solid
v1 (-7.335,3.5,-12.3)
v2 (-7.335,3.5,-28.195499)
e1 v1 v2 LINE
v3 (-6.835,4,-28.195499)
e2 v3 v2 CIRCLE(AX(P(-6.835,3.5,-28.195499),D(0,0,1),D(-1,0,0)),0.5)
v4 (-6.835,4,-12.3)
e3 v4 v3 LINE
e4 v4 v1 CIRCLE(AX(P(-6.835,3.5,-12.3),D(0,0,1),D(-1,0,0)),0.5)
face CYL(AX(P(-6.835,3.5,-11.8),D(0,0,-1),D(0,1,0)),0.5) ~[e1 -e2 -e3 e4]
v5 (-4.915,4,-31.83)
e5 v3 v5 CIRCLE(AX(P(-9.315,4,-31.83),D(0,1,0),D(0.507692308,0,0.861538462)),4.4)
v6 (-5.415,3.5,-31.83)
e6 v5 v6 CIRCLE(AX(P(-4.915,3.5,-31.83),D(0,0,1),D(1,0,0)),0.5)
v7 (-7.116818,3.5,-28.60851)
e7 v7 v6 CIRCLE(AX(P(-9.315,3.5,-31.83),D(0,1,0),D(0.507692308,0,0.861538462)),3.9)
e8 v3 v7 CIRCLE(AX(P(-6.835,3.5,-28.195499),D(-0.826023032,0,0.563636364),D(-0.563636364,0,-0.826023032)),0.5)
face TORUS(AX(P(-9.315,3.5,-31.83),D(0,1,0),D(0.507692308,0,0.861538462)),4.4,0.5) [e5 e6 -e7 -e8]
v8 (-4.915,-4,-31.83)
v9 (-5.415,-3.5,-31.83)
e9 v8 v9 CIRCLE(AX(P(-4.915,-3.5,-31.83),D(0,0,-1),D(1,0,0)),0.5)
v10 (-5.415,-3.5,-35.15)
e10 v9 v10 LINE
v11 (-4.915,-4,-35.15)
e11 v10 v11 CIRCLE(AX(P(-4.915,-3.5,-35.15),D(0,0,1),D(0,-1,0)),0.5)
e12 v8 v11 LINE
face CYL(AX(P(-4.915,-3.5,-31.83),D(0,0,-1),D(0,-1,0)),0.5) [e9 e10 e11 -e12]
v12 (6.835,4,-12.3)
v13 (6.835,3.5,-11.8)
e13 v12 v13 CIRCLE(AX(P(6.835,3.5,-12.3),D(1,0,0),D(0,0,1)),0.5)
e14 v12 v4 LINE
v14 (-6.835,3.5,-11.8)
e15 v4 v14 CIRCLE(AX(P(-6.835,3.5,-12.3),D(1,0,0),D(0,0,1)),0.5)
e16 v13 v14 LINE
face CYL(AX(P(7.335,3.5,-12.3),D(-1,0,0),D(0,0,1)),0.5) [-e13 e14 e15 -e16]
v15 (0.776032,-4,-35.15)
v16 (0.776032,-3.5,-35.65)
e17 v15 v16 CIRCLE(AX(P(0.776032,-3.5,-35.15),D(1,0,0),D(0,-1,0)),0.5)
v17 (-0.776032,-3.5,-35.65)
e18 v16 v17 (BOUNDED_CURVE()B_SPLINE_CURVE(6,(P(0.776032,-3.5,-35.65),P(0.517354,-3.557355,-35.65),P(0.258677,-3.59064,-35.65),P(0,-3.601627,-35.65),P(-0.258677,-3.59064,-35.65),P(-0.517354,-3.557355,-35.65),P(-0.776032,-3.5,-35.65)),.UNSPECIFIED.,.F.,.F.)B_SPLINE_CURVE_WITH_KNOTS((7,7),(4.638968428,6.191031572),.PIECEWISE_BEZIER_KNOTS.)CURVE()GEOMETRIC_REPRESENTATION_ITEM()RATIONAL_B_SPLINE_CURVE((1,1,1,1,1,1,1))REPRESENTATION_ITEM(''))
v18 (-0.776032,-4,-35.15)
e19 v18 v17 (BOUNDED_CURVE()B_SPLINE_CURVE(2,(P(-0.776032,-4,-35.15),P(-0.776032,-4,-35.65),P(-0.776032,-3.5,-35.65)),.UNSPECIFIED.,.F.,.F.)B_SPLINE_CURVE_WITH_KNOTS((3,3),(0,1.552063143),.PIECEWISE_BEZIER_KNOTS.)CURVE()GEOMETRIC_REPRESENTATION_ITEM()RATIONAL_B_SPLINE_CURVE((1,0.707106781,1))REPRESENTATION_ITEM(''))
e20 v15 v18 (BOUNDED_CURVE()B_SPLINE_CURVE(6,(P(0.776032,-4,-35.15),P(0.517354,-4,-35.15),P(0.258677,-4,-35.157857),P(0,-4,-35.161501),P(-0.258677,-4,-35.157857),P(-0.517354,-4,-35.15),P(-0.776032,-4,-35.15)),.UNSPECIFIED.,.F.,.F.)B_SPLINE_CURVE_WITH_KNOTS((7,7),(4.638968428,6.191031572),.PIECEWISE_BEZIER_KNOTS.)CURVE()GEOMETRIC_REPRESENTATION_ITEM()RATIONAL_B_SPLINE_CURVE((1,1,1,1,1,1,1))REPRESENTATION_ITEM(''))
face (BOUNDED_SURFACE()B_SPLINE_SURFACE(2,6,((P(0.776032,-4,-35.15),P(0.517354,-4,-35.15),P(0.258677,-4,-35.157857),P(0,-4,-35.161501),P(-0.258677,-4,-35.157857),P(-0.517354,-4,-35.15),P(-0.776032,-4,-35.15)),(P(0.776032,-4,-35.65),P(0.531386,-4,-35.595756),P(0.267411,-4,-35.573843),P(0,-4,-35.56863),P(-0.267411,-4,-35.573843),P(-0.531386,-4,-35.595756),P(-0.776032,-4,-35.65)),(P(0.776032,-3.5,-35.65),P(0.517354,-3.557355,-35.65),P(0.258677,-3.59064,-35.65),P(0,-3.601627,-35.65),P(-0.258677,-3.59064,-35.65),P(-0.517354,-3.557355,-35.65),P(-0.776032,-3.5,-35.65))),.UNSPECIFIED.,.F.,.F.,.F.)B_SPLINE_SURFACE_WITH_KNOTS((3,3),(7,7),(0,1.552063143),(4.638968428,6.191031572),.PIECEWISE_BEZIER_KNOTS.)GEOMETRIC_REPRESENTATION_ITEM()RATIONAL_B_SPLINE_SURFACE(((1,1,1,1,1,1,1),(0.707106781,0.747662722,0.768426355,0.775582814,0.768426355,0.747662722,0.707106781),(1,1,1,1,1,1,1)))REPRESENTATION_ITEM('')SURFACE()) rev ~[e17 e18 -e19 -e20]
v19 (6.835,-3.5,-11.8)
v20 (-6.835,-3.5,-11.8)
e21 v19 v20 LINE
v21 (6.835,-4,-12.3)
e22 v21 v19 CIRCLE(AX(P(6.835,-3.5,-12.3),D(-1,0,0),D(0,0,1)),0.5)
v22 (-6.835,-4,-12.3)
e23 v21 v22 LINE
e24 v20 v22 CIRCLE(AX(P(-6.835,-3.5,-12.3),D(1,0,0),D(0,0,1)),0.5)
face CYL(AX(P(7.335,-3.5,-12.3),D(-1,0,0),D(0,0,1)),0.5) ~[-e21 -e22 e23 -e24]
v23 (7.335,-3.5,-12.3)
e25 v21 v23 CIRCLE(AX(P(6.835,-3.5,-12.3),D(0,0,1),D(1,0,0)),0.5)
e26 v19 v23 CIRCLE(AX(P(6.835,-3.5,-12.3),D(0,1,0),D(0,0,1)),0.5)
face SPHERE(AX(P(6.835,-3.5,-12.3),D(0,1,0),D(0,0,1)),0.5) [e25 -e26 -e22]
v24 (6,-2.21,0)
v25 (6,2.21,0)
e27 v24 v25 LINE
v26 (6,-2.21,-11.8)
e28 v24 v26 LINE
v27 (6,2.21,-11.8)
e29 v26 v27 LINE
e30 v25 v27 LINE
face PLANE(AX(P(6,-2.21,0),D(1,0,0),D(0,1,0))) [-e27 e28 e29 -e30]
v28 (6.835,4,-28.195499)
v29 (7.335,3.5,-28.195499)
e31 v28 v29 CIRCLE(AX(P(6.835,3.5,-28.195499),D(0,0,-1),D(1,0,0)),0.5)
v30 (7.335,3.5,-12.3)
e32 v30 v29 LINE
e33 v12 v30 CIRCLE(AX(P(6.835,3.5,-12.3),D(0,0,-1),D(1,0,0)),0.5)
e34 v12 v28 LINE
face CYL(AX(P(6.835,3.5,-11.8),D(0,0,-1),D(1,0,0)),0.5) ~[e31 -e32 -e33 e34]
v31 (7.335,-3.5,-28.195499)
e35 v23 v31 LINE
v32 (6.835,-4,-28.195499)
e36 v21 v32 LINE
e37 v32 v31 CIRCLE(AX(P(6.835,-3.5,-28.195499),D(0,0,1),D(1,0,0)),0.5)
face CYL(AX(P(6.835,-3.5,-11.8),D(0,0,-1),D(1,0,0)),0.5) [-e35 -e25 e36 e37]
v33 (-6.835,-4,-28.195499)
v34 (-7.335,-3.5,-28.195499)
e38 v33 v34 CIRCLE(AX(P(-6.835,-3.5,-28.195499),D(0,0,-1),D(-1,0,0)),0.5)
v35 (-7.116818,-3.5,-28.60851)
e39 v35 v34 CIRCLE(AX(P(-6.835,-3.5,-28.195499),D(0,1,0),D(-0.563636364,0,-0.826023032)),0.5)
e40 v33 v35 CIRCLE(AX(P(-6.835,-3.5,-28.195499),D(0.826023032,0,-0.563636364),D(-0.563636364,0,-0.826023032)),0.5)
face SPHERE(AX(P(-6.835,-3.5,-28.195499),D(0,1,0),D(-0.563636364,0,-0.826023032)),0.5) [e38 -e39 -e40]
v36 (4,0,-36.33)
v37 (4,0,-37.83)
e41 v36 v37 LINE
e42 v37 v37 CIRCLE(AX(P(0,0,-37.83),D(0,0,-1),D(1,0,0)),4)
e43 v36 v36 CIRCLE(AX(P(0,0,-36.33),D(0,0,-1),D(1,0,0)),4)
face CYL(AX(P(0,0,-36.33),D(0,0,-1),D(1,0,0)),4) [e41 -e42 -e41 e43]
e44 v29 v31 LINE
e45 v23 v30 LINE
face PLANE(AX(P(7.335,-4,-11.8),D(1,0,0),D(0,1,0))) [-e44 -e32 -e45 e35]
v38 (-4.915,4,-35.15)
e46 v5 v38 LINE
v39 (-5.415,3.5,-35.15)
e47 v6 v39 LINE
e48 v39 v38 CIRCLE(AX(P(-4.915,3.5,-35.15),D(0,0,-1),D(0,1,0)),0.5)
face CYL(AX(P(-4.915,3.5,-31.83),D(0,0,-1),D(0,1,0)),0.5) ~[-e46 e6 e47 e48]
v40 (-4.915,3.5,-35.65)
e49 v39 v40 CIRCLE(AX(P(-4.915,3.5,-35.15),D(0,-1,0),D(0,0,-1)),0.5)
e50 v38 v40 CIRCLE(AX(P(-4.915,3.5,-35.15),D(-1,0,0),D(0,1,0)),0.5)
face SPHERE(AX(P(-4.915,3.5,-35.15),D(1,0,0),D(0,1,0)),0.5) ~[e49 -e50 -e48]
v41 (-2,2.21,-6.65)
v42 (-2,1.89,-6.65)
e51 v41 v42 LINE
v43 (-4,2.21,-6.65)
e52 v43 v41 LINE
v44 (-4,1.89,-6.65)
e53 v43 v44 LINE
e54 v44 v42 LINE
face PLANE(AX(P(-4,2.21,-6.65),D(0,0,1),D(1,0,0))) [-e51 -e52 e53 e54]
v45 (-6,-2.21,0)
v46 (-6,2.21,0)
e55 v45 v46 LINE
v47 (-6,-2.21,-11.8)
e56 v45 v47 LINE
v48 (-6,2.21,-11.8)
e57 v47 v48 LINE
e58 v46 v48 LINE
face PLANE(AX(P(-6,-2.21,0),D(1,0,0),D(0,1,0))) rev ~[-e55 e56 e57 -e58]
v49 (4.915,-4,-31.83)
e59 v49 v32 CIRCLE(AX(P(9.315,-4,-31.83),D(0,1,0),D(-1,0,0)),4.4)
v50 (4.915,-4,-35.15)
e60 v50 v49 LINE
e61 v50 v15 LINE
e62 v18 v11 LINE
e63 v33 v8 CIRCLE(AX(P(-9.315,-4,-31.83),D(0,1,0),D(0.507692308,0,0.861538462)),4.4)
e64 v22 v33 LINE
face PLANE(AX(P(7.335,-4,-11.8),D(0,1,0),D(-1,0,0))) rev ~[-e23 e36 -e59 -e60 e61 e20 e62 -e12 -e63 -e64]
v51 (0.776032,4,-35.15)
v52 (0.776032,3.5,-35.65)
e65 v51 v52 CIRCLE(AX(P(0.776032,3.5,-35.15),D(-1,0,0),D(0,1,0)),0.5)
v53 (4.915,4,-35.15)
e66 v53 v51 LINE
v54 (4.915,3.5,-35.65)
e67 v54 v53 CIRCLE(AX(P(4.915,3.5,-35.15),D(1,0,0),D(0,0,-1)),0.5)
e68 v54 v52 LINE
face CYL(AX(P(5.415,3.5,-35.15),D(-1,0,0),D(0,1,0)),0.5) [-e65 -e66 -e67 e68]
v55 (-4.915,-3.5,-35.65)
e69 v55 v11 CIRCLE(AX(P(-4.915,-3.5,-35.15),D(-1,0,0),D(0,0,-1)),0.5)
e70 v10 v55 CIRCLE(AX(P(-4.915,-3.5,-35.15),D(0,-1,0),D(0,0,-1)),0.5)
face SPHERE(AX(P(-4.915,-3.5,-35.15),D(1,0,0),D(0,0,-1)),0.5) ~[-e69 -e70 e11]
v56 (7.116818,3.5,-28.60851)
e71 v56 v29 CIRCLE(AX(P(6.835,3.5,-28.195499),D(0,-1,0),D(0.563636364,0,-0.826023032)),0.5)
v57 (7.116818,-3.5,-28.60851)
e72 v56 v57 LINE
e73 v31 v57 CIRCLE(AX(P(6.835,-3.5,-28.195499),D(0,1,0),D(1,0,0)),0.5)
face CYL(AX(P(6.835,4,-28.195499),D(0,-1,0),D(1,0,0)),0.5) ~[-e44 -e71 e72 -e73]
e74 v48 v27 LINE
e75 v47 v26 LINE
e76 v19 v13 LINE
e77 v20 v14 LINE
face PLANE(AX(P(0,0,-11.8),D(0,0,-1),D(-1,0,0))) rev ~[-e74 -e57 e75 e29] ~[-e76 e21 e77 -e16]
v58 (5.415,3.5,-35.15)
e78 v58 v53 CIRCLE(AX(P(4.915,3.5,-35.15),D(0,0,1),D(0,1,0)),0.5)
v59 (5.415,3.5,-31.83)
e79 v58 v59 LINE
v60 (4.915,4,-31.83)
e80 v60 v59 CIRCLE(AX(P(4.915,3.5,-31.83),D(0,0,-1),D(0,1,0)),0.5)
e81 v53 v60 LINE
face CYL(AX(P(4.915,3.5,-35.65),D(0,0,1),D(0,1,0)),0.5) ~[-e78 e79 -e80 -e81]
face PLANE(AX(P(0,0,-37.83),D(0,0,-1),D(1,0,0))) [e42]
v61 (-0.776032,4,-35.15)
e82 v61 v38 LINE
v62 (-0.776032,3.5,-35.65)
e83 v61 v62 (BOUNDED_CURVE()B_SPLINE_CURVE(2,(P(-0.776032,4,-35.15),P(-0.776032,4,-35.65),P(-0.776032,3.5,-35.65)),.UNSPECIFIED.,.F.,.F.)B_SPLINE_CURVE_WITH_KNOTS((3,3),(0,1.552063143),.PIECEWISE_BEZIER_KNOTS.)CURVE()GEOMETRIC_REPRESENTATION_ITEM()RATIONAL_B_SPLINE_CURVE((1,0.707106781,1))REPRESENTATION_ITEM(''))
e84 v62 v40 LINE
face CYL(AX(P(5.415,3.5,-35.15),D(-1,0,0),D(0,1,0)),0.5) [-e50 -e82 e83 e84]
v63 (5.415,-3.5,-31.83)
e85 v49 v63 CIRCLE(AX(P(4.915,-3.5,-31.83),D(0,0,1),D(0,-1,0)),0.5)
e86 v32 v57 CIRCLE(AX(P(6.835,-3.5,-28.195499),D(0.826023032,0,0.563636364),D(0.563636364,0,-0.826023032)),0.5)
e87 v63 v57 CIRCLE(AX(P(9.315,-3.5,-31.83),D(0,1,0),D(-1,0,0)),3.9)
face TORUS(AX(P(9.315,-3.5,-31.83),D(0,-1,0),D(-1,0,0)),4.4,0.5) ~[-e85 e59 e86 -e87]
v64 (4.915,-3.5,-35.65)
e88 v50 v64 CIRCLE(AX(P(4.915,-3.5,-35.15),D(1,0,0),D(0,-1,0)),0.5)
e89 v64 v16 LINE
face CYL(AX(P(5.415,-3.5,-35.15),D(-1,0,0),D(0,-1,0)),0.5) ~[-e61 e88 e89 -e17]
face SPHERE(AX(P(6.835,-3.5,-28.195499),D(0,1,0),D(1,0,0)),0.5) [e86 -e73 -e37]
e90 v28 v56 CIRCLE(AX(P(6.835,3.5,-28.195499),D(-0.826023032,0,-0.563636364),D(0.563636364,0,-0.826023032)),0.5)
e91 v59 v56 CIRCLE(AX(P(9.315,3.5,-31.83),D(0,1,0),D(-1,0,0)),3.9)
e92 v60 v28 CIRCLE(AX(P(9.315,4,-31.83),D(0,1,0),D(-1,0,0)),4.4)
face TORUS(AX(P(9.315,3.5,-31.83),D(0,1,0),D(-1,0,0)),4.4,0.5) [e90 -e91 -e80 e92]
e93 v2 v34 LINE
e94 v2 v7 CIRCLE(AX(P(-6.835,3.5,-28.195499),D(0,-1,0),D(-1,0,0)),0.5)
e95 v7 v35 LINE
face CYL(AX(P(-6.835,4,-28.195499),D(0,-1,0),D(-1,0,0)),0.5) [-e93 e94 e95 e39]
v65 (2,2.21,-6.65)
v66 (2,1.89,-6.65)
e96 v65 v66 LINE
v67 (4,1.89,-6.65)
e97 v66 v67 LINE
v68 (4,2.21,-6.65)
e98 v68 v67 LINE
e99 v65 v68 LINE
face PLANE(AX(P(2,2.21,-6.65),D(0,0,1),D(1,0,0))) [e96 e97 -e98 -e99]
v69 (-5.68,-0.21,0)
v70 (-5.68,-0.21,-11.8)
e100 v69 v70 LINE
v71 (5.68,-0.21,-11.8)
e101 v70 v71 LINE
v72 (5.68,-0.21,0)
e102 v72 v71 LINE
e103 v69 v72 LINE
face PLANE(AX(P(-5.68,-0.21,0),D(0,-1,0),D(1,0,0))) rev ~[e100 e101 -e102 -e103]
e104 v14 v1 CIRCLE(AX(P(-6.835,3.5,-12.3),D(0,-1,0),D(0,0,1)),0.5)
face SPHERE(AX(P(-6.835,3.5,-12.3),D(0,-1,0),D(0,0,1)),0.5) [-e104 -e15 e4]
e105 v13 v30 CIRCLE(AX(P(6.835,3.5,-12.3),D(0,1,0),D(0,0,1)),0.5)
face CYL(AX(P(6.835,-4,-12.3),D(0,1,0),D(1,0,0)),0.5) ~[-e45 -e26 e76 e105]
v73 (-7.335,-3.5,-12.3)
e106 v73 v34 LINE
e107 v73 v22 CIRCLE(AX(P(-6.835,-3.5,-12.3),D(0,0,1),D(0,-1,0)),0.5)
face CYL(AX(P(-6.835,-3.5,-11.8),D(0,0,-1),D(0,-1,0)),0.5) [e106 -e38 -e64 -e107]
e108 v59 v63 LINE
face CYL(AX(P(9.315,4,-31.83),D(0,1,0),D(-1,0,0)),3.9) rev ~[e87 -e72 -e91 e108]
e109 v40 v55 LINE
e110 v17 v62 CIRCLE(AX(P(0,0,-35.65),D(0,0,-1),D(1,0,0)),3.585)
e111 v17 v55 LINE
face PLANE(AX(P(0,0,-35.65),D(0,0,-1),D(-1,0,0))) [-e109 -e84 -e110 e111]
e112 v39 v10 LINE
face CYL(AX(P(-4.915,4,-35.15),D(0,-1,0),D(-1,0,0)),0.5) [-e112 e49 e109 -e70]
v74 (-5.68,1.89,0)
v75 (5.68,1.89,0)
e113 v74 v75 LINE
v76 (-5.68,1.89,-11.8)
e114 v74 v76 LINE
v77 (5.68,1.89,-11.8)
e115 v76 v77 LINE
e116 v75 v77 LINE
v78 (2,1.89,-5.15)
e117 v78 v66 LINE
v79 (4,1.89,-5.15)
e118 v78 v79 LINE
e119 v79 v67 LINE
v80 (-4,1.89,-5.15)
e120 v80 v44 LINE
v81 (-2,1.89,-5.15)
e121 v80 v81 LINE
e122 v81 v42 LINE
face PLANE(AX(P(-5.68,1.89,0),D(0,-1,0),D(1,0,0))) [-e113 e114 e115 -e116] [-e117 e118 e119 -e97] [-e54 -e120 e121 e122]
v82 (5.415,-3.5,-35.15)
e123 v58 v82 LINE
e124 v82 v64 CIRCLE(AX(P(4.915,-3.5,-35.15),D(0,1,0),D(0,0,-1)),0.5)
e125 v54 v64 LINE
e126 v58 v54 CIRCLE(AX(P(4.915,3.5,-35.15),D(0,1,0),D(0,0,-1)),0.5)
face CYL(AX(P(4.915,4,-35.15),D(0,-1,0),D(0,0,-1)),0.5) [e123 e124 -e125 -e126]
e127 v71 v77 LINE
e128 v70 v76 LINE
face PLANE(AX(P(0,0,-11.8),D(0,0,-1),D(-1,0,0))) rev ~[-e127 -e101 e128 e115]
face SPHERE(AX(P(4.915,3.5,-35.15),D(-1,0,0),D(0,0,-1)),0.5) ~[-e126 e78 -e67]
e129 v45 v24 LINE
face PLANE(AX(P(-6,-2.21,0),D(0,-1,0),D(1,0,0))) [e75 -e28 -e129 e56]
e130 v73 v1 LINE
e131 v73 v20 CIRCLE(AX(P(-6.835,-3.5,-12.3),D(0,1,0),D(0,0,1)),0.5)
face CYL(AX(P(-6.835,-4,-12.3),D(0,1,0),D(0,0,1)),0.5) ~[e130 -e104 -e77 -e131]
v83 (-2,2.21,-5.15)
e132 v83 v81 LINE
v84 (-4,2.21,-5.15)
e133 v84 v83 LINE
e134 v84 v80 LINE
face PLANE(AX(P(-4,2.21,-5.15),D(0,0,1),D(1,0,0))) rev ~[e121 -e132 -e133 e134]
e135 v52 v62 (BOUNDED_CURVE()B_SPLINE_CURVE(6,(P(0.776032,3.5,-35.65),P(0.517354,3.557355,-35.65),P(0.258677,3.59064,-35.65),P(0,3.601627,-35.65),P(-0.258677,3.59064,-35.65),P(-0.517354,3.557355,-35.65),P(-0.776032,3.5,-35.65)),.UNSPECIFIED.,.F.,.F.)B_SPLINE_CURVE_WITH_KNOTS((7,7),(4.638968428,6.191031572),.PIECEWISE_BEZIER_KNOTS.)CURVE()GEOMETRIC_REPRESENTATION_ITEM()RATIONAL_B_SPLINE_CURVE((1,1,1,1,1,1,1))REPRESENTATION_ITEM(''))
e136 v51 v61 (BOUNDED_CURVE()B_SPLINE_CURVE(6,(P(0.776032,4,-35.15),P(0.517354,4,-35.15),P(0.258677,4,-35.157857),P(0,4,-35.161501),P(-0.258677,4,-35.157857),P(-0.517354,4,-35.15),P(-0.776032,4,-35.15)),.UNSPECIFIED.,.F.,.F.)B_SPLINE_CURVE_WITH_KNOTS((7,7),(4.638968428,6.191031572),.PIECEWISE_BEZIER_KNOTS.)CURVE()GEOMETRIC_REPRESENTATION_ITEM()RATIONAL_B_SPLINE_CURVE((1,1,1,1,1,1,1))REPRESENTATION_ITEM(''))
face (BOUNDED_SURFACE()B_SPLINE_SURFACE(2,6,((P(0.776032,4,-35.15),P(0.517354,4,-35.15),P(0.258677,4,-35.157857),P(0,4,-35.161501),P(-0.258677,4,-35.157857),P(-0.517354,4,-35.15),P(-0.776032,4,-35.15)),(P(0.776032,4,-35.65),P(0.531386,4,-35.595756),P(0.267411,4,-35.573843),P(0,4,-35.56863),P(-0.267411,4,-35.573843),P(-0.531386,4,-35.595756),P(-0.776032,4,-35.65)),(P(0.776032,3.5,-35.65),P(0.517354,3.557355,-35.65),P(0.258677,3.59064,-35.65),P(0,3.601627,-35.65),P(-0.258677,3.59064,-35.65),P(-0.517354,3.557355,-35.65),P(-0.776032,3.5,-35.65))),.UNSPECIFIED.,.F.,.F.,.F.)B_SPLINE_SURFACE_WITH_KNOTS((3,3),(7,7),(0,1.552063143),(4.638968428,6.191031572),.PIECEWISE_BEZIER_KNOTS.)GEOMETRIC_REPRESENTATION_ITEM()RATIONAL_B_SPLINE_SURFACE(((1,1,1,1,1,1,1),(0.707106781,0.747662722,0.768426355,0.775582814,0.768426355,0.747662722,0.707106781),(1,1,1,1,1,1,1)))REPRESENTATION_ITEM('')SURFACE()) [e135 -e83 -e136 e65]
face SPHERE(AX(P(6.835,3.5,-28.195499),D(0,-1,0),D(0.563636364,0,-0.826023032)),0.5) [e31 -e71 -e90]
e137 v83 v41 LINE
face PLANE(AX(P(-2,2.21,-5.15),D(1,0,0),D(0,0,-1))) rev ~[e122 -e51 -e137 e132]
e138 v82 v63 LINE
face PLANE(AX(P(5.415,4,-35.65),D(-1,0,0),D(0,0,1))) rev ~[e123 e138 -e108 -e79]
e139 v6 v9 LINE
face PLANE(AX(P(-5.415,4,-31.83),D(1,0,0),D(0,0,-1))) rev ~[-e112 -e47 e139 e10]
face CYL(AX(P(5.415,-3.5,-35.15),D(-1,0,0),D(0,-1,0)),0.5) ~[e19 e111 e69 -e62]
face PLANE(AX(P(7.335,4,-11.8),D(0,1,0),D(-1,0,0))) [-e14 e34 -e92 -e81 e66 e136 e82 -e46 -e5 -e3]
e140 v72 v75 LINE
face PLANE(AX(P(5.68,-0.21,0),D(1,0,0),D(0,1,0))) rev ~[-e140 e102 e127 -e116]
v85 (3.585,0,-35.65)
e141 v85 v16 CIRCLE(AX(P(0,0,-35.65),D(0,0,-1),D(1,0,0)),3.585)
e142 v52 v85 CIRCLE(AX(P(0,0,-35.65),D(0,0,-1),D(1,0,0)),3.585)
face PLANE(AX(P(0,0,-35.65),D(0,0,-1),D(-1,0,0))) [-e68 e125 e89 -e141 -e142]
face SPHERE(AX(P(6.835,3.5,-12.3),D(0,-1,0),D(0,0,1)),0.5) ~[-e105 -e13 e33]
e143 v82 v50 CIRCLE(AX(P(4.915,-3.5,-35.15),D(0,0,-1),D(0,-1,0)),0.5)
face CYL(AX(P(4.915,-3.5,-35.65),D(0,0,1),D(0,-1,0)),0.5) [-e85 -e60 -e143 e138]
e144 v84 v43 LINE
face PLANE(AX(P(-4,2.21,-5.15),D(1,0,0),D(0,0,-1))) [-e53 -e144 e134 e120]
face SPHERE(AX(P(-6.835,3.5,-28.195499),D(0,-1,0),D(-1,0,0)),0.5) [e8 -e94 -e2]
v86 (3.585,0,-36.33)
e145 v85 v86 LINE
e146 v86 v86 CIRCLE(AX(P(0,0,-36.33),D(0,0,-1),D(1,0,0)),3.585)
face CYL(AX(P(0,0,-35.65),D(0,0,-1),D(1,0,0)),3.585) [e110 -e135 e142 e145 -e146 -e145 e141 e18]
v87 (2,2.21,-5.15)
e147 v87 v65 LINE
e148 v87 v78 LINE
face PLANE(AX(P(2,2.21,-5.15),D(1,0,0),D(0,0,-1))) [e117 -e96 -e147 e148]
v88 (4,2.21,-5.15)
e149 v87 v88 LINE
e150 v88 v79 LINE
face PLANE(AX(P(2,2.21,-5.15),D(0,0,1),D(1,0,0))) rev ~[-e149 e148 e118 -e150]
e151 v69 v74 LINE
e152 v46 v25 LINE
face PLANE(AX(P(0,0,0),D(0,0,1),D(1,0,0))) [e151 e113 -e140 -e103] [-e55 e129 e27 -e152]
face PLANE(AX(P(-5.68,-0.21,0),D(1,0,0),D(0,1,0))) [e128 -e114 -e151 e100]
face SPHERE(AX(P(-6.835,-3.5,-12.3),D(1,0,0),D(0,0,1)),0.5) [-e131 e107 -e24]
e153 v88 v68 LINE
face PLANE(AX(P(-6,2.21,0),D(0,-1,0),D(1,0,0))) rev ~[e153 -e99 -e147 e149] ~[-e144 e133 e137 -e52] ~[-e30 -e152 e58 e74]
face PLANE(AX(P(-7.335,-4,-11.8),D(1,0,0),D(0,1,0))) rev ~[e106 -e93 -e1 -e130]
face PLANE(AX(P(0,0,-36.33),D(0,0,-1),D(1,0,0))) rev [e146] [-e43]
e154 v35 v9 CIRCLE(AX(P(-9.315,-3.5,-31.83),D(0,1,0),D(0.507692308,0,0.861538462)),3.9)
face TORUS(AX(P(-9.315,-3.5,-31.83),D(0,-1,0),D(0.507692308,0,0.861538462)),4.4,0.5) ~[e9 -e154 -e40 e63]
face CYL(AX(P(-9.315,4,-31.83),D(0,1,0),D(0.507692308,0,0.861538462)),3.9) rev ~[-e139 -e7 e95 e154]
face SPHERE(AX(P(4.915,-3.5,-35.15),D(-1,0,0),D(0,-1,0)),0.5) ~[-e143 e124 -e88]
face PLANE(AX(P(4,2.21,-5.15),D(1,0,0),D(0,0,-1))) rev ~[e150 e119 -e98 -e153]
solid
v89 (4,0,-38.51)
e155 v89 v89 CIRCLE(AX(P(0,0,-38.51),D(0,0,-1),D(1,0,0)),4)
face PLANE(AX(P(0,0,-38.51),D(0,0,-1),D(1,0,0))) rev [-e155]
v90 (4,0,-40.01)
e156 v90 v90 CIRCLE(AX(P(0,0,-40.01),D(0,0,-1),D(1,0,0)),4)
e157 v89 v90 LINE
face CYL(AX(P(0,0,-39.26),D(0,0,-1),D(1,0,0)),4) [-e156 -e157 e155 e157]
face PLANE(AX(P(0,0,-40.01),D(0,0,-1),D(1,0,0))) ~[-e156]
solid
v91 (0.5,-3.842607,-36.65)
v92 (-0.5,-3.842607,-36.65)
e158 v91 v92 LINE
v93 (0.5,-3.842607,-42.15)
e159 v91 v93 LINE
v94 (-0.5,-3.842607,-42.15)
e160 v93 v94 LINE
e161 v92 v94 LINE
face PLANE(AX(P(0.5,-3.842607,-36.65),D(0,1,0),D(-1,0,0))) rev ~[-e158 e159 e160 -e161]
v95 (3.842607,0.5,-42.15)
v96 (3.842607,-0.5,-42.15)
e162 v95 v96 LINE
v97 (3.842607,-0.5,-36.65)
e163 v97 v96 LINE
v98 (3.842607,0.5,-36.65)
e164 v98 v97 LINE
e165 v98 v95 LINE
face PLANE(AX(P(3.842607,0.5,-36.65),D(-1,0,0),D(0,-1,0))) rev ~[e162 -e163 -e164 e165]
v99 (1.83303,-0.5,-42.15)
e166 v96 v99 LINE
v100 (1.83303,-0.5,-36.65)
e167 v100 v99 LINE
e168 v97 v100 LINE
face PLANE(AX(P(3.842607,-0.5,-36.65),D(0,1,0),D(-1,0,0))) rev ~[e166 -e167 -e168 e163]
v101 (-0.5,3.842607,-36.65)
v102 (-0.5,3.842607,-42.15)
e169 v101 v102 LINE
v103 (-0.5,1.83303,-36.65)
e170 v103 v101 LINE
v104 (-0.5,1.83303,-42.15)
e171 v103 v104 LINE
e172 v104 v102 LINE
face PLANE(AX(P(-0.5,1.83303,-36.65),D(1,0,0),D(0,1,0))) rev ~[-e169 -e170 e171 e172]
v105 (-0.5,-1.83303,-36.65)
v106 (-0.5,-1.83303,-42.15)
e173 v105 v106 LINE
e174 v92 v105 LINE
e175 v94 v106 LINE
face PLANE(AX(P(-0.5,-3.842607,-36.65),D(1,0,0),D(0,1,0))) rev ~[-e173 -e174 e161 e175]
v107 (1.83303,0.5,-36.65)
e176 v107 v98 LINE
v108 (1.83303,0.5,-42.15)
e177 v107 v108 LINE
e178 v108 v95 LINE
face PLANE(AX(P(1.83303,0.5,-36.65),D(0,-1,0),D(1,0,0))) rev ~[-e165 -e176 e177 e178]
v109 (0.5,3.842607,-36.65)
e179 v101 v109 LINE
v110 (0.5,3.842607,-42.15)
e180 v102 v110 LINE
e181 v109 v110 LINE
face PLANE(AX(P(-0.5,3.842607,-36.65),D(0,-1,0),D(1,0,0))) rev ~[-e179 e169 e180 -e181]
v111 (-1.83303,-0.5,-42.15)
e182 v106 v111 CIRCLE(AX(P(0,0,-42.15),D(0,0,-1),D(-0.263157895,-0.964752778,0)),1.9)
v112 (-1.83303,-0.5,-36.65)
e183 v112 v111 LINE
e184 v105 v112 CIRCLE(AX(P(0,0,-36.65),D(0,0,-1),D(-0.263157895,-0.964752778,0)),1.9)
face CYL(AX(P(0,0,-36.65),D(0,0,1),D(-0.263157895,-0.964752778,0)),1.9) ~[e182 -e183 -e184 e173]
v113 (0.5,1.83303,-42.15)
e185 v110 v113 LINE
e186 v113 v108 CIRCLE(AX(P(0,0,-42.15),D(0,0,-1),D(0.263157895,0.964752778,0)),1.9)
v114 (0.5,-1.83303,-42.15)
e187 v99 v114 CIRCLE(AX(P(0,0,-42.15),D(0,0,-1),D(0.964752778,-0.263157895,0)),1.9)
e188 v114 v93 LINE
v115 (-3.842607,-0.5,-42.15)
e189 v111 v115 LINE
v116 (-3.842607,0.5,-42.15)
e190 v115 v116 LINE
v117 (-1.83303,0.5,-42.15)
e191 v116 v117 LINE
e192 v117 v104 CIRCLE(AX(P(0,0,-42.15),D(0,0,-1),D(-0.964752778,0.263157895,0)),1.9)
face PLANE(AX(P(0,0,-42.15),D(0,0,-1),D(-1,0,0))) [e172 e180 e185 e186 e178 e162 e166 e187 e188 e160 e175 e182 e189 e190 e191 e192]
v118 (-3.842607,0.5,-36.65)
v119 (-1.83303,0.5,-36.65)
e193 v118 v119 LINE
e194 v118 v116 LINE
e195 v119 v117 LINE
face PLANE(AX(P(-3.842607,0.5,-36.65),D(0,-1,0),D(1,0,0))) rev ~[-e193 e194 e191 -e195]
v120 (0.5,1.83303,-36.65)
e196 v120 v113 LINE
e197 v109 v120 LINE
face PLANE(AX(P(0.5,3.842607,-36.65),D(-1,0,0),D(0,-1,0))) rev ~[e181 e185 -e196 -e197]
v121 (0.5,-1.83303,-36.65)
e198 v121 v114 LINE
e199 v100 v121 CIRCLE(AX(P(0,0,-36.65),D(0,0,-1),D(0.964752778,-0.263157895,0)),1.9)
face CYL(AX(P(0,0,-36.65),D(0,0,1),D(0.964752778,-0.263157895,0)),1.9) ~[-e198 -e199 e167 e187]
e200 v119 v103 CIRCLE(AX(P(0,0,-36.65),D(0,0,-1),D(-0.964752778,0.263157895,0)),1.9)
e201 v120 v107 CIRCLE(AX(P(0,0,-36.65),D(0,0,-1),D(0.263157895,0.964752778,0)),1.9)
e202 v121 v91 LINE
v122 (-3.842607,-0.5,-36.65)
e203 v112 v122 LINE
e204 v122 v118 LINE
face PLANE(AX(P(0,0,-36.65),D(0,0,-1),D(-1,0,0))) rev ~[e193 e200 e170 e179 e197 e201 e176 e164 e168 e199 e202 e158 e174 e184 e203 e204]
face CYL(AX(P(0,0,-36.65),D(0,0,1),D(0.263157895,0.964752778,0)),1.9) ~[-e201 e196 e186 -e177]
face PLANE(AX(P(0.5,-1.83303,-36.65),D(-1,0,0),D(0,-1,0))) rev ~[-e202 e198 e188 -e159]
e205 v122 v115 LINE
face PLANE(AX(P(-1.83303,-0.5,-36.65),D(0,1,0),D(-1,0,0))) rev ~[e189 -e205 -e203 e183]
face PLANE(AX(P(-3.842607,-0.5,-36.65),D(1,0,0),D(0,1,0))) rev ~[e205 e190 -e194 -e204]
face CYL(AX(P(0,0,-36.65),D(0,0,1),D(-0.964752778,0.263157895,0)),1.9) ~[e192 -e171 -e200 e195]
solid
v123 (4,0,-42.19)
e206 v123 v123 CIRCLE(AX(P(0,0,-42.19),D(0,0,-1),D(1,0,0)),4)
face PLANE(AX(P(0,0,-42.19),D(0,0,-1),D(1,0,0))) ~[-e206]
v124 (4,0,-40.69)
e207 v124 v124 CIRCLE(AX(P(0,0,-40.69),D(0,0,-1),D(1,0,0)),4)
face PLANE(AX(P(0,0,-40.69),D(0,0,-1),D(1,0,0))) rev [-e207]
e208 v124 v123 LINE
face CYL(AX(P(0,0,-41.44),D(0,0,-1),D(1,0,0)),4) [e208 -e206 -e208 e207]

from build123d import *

# Parameters (mm, degrees)
SKETCH1_W           = 12
SKETCH1_H           = 4.42
SKETCH1_W_2         = 11.36
SKETCH1_H_2         = 2.1
BOSS_EXTRUDE1_DEPTH = 11.8
CUT_EXTRUDE1_REACH  = 15.956
SKETCH4_W           = 2
SKETCH4_H           = 1.5
SKETCH5_W           = 14.67
SKETCH5_H           = 8
BOSS_EXTRUDE2_DEPTH = 23.85
CUT_EXTRUDE2_DEPTH  = 38.26559707
BOSS_EXTRUDE4_START = 1
BOSS_EXTRUDE4_DEPTH = 5.5
SKETCH9_W           = 4
SKETCH9_H           = 1.5
FILLET1_R           = 0.5


with BuildPart() as part:
    # Sketch1 → Boss-Extrude1 (new body)
    with BuildSketch(Plane.XY):
        Rectangle(SKETCH1_W, SKETCH1_H)
        with Locations((0, 0.84)):
            Rectangle(SKETCH1_W_2, SKETCH1_H_2, mode=Mode.SUBTRACT)
    extrude(amount=-BOSS_EXTRUDE1_DEPTH)

    # Sketch4 → Cut-Extrude1 (cut, up to next)
    with BuildSketch(Plane(origin=(0, 2.21, 0), x_dir=(1, 0, 0), z_dir=(0, 1, 0)), mode=Mode.PRIVATE) as cut_extrude1_sk1:
        with Locations((3, 5.9)):
            Rectangle(SKETCH4_W, SKETCH4_H)
    cut_extrude1_tool1 = extrude(cut_extrude1_sk1.sketch, amount=-CUT_EXTRUDE1_REACH, mode=Mode.PRIVATE) & part.part
    # Sketch4 → Cut-Extrude1 (cut, up to next)
    with BuildSketch(Plane(origin=(0, 2.21, 0), x_dir=(1, 0, 0), z_dir=(0, 1, 0)), mode=Mode.PRIVATE) as cut_extrude1_sk2:
        with Locations((-3, 5.9)):
            Rectangle(SKETCH4_W, SKETCH4_H)
    cut_extrude1_tool2 = extrude(cut_extrude1_sk2.sketch, amount=-CUT_EXTRUDE1_REACH, mode=Mode.PRIVATE) & part.part
    add(cut_extrude1_tool1.solids().sort_by_distance((3, 2.21, -5.9))[0], mode=Mode.SUBTRACT)
    add(cut_extrude1_tool2.solids().sort_by_distance((-3, 2.21, -5.9))[0], mode=Mode.SUBTRACT)

    # Sketch5 → Boss-Extrude2 (add)
    with BuildSketch(Plane(origin=(0, 0, -11.8), x_dir=(-1, 0, 0), z_dir=(0, 0, -1))):
        Rectangle(SKETCH5_W, SKETCH5_H)
    extrude(amount=BOSS_EXTRUDE2_DEPTH)

    # Sketch6 → Cut-Extrude2 (cut, through all)
    with BuildSketch(Plane(origin=(0, 4, 0), x_dir=(1, 0, 0), z_dir=(0, 1, 0))):
        with BuildLine():
            Line((7.335, 35.65), (5.415, 35.65))
            Line((5.415, 35.65), (5.415, 31.83))
            ThreePointArc((5.415, 31.83), (5.928851746, 29.89505814), (7.335, 28.47))
            Line((7.335, 28.47), (7.335, 35.65))
        make_face()
        with BuildLine():
            Line((-5.415, 31.83), (-5.415, 35.65))
            Line((-5.415, 35.65), (-7.335, 35.65))
            Line((-7.335, 35.65), (-7.335, 28.47))
            ThreePointArc((-7.335, 28.47), (-5.928851746, 29.89505814), (-5.415, 31.83))
        make_face()
    extrude(amount=-CUT_EXTRUDE2_DEPTH, mode=Mode.SUBTRACT)

    # Sketch9 → Revolve1 (revolve)
    with BuildSketch(Plane(origin=(0, 0, 0), x_dir=(1, 0, 0), z_dir=(0, 1, 0))):
        with Locations((2, 41.44)):
            Rectangle(SKETCH9_W, SKETCH9_H)
        with Locations((2, 39.26)):
            Rectangle(SKETCH9_W, SKETCH9_H)
        Polygon((0, 37.83), (0, 35.65), (3.585, 35.65), (3.585, 36.33), (4, 36.33), (4, 37.83), align=None)
    revolve(axis=Axis((0, 0, -35.65), (0, 0, -1)))


with BuildPart() as body_2:
    # Sketch8 → Boss-Extrude4 (new body)
    with BuildSketch(Plane(origin=(0, 0, -35.65), x_dir=(-1, 0, 0), z_dir=(0, 0, -1)).offset(BOSS_EXTRUDE4_START)):
        with BuildLine():
            Line((0, 3.842606537), (-0.5, 3.842606537))
            Line((-0.5, 3.842606537), (-0.5, 1.833030278))
            ThreePointArc((-0.5, 1.833030278), (-1.343502884, 1.343502884), (-1.833030278, 0.5))
            Line((-1.833030278, 0.5), (-3.842606537, 0.5))
            Line((-3.842606537, 0.5), (-3.842606537, 0))
            Line((-3.842606537, 0), (-3.842606537, -0.5))
            Line((-3.842606537, -0.5), (-1.833030278, -0.5))
            ThreePointArc((-1.833030278, -0.5), (-1.343502884, -1.343502884), (-0.5, -1.833030278))
            Line((-0.5, -1.833030278), (-0.5, -3.842606537))
            Line((-0.5, -3.842606537), (0, -3.842606537))
            Line((0, -3.842606537), (0.5, -3.842606537))
            Line((0.5, -3.842606537), (0.5, -1.833030278))
            ThreePointArc((0.5, -1.833030278), (1.343502884, -1.343502884), (1.833030278, -0.5))
            Line((1.833030278, -0.5), (3.842606537, -0.5))
            Line((3.842606537, -0.5), (3.842606537, 0))
            Line((3.842606537, 0), (3.842606537, 0.5))
            Line((3.842606537, 0.5), (1.833030278, 0.5))
            ThreePointArc((1.833030278, 0.5), (1.343502884, 1.343502884), (0.5, 1.833030278))
            Line((0.5, 1.833030278), (0.5, 3.842606537))
            Line((0.5, 3.842606537), (0, 3.842606537))
        make_face()
    extrude(amount=BOSS_EXTRUDE4_DEPTH)


with BuildPart() as revolve1_piece_1:
    # of the separate pieces the step leaves, piece 1, a body of its own (revolve1_pieces)
    add(part.part.solids().sort_by_distance((-7.335, -4, -11.8))[0])

    # Fillet1
    fillet1_edges = [revolve1_piece_1.edges().sort_by_distance(p)[0] for p in [
        (-5.928851746, -4, -29.89505814),
        (5.928851746, -4, -29.89505814),
        (7.335, 4, -20.135),
        (0, 4, -11.8),
        (-7.335, 4, -20.135),
        (-5.928851746, 4, -29.89505814),
        (-5.415, 4, -33.74),
        (0, 4, -35.65),
        (5.415, 4, -33.74),
        (5.928851746, 4, -29.89505814),
        (0, -4, -35.65),
        (0, -4, -11.8),
        (-5.415, 0, -35.65),
        (5.415, 0, -35.65),
        (7.335, 0, -11.8),
        (7.335, 0, -28.47),
        (-7.335, 0, -28.47),
        (-7.335, 0, -11.8),
        (-7.335, -4, -20.135),
        (-5.415, -4, -33.74),
        (5.415, -4, -33.74),
        (7.335, -4, -20.135),
    ]]
    fillet(fillet1_edges, radius=FILLET1_R)


with BuildPart() as revolve1_piece_2:
    # of the separate pieces the step leaves, piece 2, a body of its own (revolve1_pieces)
    add(part.part.solids().sort_by_distance((4, 0, -38.51))[0])


with BuildPart() as revolve1_piece_3:
    # of the separate pieces the step leaves, piece 3, a body of its own (revolve1_pieces)
    add(part.part.solids().sort_by_distance((4, 0, -40.69))[0])


solid = Compound([body_2.part, revolve1_piece_1.part, revolve1_piece_2.part, revolve1_piece_3.part])
